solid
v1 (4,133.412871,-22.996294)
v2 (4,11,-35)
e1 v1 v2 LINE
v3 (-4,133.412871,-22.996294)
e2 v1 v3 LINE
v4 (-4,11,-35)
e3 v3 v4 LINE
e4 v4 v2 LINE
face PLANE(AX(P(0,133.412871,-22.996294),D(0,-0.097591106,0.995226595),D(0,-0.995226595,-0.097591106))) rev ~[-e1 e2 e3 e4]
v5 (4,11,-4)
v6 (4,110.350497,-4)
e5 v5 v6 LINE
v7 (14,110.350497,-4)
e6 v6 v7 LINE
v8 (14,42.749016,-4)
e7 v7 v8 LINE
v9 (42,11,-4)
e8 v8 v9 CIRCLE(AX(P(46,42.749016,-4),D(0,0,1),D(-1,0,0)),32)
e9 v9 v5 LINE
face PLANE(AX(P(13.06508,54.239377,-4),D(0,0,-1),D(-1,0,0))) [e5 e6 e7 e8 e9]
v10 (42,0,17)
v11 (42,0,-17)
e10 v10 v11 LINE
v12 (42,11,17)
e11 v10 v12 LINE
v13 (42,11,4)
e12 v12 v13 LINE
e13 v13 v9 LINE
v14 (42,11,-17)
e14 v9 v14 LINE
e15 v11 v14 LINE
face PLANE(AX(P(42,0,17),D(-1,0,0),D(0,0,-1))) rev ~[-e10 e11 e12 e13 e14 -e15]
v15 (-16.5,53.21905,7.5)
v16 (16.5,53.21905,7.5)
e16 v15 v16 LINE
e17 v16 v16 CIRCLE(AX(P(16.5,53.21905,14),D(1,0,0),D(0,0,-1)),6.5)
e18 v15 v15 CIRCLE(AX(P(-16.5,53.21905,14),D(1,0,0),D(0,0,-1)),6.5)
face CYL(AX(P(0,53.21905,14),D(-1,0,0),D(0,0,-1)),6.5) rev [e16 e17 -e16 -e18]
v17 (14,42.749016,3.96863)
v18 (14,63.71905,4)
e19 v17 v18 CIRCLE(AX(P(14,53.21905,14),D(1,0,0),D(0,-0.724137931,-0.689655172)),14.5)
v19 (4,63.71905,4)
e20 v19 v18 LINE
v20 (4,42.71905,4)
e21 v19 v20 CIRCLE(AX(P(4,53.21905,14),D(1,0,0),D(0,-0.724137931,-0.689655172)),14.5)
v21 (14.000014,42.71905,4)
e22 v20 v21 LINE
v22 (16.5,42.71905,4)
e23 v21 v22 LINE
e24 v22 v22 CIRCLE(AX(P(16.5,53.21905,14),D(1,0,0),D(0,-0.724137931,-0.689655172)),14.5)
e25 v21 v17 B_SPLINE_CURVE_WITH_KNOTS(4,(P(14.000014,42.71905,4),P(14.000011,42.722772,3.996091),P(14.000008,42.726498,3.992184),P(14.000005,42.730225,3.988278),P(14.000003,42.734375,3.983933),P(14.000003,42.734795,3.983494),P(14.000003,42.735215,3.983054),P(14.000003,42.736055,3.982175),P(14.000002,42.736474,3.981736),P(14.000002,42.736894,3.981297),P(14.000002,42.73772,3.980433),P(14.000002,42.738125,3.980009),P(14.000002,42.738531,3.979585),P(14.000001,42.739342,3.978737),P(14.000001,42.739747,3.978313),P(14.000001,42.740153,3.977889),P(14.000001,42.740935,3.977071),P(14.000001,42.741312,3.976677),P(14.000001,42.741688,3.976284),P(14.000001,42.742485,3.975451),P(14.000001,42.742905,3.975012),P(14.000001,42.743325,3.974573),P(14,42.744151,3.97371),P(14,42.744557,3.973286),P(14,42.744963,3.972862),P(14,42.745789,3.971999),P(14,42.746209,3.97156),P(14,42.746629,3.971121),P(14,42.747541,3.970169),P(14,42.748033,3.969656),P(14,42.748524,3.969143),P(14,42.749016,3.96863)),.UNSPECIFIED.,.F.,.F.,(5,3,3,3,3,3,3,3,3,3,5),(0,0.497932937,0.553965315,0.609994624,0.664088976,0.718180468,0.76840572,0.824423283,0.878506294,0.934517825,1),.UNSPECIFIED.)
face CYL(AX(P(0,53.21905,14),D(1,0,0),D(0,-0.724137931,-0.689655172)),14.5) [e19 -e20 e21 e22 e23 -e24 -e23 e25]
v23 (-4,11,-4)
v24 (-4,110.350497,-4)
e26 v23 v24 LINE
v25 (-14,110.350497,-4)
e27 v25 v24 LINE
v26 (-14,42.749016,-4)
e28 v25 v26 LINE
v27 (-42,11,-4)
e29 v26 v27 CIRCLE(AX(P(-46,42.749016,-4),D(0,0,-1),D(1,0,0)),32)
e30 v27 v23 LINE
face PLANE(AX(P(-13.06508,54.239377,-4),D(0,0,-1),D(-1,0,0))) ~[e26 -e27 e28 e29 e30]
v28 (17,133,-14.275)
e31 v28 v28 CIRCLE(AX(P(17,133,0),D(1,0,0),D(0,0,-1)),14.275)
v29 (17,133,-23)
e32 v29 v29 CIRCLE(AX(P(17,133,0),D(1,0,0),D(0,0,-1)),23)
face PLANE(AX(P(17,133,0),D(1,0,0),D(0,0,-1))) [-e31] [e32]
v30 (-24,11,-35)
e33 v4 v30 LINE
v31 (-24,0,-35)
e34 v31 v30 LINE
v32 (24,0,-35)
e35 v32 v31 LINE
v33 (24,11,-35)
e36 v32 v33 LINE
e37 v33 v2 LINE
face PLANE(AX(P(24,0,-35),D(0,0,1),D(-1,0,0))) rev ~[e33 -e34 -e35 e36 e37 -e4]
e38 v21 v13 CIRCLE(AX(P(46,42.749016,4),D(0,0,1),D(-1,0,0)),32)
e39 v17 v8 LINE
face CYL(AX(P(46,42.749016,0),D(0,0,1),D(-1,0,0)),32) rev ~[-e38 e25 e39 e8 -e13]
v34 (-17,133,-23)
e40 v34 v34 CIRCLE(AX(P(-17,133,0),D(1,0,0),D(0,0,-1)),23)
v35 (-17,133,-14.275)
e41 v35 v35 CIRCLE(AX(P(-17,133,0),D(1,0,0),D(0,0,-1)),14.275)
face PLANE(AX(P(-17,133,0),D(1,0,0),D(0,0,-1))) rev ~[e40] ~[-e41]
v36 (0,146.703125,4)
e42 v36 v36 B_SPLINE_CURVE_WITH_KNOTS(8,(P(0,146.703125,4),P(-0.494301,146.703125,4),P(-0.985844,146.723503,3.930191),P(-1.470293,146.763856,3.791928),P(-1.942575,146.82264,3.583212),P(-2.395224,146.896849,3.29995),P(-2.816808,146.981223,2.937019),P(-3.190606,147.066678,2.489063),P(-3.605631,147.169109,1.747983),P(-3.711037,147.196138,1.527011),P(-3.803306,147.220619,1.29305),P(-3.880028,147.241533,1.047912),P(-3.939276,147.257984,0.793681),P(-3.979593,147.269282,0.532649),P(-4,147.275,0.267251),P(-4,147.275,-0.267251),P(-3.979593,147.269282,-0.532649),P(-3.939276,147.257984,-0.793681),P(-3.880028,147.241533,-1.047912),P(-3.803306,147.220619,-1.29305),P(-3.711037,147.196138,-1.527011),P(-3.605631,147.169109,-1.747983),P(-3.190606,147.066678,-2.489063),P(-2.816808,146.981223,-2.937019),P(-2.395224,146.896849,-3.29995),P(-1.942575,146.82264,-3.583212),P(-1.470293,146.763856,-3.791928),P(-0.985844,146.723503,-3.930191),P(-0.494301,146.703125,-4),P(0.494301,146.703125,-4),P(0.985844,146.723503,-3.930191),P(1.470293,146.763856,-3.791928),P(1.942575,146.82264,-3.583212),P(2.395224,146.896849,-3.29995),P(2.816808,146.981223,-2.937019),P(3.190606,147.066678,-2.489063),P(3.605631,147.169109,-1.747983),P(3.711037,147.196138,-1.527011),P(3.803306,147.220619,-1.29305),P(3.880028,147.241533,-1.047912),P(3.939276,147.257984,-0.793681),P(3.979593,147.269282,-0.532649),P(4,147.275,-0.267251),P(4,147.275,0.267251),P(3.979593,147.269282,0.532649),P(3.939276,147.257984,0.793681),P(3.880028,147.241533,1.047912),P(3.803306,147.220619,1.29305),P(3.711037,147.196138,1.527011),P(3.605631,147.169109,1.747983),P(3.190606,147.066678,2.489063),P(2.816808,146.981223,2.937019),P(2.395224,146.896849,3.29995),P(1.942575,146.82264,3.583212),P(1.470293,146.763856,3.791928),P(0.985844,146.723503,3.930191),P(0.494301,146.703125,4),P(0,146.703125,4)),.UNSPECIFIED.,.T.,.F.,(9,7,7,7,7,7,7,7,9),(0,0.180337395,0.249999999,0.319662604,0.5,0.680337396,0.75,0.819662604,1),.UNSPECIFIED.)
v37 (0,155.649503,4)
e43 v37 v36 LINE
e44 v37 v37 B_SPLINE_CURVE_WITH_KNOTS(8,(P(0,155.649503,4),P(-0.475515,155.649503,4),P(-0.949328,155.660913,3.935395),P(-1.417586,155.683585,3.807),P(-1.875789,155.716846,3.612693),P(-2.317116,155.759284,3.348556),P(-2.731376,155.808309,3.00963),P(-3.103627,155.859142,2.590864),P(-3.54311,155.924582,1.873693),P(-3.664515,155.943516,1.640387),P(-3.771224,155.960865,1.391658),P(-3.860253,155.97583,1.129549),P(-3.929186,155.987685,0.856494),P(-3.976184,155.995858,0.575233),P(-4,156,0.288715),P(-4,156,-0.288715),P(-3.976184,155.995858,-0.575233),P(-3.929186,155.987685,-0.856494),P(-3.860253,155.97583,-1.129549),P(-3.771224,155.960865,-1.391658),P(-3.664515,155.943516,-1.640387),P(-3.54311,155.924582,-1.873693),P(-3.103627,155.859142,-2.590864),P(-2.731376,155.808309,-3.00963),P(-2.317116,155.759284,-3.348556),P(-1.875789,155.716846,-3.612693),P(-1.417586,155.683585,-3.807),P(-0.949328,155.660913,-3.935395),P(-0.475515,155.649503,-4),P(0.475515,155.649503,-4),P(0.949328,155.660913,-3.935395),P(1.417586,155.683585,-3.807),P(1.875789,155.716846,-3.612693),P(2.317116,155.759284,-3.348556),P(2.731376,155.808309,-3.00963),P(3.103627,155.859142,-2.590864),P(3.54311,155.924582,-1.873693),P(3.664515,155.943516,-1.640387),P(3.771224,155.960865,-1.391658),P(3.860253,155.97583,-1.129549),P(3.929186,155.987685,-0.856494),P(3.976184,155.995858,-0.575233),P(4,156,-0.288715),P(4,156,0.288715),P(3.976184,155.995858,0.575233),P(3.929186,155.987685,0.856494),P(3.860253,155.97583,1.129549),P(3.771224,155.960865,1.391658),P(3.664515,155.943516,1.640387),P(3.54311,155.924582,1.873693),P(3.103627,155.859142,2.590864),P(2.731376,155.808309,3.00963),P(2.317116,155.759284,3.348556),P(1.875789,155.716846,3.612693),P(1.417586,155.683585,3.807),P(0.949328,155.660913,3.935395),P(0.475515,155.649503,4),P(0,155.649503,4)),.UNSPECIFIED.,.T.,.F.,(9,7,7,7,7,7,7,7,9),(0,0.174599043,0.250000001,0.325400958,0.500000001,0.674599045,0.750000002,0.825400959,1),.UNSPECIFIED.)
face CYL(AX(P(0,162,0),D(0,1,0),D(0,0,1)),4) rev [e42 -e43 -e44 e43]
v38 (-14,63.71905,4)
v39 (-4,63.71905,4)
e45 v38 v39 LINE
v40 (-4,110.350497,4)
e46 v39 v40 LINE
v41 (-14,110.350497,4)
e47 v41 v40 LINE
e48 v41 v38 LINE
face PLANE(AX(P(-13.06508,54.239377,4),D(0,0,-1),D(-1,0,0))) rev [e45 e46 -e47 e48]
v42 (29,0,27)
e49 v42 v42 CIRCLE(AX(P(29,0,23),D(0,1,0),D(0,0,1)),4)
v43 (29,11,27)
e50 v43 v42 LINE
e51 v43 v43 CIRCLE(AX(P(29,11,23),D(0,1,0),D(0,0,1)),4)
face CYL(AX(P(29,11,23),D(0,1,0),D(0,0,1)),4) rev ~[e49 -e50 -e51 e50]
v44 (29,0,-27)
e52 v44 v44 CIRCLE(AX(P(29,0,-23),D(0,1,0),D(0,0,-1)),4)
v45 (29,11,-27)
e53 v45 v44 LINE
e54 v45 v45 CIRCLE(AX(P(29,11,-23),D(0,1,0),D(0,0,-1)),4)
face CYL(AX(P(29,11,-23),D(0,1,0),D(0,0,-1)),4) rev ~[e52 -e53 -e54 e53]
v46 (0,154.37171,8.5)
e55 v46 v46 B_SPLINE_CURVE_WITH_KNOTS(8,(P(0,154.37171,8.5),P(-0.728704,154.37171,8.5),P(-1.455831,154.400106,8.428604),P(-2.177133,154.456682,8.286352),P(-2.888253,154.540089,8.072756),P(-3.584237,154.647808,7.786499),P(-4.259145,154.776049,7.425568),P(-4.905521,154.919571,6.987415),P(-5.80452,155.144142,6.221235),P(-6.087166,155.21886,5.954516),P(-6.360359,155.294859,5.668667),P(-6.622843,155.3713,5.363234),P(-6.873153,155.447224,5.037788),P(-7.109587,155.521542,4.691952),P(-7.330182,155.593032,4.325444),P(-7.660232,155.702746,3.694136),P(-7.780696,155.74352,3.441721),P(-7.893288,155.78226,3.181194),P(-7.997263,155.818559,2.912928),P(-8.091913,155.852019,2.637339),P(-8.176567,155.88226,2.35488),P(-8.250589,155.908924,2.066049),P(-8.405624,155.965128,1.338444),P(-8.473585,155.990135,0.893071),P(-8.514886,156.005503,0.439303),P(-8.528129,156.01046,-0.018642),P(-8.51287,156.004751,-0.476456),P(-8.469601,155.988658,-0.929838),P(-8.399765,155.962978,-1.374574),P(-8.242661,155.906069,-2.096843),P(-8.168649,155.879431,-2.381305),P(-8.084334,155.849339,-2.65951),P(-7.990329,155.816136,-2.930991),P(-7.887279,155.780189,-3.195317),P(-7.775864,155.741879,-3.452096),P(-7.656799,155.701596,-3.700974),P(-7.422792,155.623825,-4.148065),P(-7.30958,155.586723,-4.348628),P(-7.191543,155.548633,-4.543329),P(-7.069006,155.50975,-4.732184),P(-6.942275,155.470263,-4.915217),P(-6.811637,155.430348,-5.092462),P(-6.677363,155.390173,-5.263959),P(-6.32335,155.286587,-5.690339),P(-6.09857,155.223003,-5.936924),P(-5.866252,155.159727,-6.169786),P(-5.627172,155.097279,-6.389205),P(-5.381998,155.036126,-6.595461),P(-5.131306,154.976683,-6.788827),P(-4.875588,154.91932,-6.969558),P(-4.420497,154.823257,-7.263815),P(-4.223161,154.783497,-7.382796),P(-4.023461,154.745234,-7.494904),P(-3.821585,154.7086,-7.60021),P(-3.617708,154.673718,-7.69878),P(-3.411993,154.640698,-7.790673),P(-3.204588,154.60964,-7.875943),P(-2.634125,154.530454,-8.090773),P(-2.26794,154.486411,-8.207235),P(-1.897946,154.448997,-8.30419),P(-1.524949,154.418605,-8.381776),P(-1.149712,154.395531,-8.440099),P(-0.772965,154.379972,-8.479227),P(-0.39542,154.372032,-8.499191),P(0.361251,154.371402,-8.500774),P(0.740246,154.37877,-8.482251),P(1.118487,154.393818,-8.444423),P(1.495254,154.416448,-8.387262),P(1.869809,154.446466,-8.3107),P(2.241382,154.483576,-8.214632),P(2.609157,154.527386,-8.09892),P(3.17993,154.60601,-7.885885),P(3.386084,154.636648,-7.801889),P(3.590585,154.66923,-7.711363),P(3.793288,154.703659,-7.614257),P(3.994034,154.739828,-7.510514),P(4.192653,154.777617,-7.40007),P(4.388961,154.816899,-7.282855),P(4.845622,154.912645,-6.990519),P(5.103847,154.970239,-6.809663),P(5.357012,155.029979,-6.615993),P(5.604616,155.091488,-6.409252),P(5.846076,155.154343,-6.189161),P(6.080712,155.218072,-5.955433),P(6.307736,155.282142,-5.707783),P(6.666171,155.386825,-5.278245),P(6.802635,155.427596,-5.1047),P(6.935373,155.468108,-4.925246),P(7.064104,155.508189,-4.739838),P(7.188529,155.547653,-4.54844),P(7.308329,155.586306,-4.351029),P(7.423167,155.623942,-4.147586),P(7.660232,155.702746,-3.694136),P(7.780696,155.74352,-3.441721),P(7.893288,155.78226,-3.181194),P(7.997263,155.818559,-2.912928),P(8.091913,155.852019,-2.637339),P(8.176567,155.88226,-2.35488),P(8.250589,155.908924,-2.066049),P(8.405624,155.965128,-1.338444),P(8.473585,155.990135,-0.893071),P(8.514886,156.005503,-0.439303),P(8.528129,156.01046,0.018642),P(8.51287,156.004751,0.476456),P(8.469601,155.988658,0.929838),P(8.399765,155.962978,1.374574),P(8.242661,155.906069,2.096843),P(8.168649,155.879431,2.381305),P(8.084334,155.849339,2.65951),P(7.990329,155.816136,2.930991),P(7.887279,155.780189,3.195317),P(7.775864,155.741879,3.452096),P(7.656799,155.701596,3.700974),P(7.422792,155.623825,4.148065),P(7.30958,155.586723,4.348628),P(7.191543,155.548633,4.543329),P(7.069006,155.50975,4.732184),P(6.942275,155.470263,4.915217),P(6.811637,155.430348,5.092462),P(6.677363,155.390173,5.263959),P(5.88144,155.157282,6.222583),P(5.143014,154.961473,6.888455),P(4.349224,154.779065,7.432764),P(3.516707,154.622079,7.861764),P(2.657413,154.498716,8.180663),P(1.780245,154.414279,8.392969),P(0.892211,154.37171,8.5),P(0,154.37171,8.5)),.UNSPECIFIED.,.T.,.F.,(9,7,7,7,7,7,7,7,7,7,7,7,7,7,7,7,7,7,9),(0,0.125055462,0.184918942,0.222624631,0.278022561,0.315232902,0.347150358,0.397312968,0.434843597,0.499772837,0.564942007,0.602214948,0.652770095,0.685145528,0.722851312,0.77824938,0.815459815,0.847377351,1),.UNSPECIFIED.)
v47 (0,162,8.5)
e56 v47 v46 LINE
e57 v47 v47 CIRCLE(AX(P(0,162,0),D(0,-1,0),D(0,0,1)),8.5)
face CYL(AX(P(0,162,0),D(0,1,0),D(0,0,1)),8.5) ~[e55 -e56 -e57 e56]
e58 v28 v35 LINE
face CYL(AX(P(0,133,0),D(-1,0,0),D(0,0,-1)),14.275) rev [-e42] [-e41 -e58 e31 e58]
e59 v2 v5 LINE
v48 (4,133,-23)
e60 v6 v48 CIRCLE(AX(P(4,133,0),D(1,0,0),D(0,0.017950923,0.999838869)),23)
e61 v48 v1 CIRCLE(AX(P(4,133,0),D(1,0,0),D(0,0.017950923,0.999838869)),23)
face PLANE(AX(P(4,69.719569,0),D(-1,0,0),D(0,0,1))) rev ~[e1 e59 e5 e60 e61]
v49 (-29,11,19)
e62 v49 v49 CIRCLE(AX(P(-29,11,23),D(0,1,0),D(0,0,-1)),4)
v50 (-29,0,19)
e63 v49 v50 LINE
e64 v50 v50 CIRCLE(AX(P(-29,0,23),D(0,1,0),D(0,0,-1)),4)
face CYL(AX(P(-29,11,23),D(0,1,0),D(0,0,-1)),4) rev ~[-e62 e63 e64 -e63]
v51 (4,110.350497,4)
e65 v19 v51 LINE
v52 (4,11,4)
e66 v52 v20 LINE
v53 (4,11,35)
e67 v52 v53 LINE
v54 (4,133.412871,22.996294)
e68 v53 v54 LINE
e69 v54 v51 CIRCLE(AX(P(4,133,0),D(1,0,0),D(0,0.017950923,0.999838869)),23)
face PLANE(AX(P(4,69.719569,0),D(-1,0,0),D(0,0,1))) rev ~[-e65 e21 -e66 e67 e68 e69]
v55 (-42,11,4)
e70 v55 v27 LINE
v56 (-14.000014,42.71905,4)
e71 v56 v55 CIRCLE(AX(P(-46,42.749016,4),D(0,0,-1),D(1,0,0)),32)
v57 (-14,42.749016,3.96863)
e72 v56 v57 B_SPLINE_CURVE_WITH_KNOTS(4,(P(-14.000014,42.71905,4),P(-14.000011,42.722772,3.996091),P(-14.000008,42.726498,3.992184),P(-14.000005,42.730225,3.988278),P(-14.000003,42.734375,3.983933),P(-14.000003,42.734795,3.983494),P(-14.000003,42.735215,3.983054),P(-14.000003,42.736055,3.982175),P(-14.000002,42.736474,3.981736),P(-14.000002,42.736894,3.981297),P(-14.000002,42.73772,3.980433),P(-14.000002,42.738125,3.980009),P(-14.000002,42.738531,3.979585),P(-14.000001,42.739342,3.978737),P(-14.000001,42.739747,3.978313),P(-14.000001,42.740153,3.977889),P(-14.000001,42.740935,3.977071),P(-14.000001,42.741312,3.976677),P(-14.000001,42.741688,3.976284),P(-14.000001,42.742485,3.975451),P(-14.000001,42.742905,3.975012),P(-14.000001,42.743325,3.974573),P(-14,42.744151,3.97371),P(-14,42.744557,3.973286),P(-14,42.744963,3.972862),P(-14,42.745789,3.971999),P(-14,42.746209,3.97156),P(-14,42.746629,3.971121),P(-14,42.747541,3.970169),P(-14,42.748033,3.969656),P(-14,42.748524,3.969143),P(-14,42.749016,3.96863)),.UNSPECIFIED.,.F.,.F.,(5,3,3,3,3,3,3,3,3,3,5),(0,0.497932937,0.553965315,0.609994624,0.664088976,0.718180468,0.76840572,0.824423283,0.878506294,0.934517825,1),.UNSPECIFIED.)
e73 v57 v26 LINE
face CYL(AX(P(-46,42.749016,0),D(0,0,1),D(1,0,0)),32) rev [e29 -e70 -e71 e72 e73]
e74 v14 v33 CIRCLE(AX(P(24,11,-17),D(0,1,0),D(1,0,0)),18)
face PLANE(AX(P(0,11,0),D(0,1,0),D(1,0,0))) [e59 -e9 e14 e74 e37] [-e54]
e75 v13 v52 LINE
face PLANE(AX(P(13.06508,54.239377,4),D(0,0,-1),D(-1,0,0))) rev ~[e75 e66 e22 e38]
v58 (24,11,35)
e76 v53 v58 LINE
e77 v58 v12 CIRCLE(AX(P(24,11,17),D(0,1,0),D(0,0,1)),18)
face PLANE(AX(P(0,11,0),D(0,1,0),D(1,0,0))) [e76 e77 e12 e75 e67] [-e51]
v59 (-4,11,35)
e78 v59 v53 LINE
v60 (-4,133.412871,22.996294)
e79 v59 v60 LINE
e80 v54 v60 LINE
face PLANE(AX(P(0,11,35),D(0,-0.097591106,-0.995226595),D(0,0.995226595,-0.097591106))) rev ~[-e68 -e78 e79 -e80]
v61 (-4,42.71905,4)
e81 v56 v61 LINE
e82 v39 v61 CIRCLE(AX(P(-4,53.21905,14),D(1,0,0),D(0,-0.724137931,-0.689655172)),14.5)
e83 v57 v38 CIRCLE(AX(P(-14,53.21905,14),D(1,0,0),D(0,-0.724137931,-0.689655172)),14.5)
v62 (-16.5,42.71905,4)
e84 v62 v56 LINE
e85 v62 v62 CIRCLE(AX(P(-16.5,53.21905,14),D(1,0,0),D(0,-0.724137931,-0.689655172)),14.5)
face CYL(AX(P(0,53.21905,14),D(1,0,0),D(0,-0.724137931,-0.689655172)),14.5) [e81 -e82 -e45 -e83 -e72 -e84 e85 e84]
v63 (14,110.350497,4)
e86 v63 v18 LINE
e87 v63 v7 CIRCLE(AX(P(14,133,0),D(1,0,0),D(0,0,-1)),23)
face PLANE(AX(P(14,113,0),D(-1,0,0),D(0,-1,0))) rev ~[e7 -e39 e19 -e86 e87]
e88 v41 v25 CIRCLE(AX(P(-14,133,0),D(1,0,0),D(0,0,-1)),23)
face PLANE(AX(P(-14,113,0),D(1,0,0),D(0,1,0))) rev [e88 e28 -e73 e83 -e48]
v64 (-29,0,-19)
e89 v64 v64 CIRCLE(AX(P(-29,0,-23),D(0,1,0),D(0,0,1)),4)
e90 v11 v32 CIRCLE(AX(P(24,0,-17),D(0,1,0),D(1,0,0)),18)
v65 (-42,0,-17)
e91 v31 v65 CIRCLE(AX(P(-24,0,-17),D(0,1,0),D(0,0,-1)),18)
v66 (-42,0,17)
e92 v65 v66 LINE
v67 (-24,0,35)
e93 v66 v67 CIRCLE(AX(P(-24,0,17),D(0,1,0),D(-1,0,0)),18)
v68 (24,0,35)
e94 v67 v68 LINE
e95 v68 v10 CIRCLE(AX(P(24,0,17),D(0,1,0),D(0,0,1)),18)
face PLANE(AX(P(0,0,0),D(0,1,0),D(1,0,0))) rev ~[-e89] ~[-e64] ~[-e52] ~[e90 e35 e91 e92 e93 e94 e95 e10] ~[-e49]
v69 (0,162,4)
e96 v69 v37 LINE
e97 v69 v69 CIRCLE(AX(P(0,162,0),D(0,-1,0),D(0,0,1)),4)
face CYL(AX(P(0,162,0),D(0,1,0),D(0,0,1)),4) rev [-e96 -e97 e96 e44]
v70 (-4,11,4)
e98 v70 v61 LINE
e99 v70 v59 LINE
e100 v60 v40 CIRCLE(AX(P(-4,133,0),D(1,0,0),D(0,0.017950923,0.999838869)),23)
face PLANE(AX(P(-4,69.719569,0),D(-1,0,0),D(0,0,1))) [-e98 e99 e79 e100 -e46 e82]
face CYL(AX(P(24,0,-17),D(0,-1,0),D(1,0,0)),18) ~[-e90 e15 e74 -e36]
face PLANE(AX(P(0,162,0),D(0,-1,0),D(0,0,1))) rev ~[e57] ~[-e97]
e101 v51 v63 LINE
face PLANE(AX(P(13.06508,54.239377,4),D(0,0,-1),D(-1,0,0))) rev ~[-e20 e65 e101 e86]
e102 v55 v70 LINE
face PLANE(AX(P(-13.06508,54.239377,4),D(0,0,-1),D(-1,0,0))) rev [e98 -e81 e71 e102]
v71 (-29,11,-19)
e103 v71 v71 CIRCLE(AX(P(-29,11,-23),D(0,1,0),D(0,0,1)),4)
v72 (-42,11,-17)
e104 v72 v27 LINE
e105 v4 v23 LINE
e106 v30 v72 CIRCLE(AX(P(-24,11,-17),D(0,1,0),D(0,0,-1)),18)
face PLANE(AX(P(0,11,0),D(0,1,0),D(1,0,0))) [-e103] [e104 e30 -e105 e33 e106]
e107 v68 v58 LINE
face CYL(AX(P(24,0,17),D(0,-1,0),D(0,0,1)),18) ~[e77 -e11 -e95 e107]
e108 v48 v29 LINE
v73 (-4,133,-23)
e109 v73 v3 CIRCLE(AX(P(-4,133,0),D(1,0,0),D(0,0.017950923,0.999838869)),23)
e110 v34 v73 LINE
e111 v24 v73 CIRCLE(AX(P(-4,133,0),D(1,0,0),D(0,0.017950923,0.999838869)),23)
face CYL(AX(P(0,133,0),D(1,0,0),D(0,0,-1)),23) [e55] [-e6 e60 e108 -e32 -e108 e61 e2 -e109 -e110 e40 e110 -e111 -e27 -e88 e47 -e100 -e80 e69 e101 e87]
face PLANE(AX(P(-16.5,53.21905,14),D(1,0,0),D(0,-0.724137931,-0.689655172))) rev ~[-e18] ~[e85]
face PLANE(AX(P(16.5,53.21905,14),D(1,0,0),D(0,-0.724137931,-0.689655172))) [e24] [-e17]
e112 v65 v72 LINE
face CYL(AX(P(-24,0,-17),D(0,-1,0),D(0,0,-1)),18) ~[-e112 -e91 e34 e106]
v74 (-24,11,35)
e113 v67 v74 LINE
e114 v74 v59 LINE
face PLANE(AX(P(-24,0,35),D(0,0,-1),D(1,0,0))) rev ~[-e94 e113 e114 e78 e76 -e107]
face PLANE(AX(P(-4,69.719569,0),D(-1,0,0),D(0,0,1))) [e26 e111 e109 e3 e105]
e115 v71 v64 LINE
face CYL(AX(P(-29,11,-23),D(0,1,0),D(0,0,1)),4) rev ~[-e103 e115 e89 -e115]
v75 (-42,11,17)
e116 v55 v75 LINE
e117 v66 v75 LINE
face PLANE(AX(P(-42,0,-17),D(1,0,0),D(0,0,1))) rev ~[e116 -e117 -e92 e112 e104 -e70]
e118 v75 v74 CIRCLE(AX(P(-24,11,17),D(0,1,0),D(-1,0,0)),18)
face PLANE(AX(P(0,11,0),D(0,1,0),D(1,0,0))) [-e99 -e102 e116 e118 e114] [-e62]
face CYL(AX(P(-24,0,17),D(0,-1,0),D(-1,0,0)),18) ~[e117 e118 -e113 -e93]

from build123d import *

# Parameters (mm, degrees)
BOSS_EXTRUDE1_DEPTH     = 11
SKETCH2_R               = 23
SKETCH2_R_2             = 14.275
BOSS_EXTRUDE2_DEPTH     = 17
BOSS_EXTRUDE3_DEPTH     = 4
SKETCH6_R               = 4
CUT_EXTRUDE1_DEPTH      = 155.964512066
BOSS_EXTRUDE4_REACH     = 172.977
SKETCH9_R               = 8.5
SKETCH9_R_2             = 4
CUT_EXTRUDE2_REACH      = 172.977
CUT_EXTRUDE2_END_RADIUS = 14.275
SKETCH9_3_R             = 4
BOSS_EXTRUDE5_DEPTH     = 4
SKETCH12_R              = 14.5
SKETCH12_R_2            = 6.5
BOSS_EXTRUDE6_DEPTH     = 16.5
CUT_EXTRUDE3_DEPTH      = 171.976606706
CUT_EXTRUDE3_DEPTH_BACK = 171.976606706
SKETCH12_2_R            = 6.5


with BuildPart() as part:
    # Sketch1 → Boss-Extrude1 (new body)
    with BuildSketch(Plane(origin=(0, 0, 0), x_dir=(1, 0, 0), z_dir=(0, 1, 0))):
        with BuildLine():
            Line((-24, -35), (24, -35))
            ThreePointArc((24, -35), (36.727922061, -29.727922061), (42, -17))
            Line((42, -17), (42, 17))
            ThreePointArc((42, 17), (36.727922061, 29.727922061), (24, 35))
            Line((24, 35), (-24, 35))
            ThreePointArc((-24, 35), (-36.727922061, 29.727922061), (-42, 17))
            Line((-42, 17), (-42, -17))
            ThreePointArc((-42, -17), (-36.727922061, -29.727922061), (-24, -35))
        make_face()
    extrude(amount=BOSS_EXTRUDE1_DEPTH)



with BuildPart() as body_2:
    # Sketch2 → Boss-Extrude2 (new, symmetric)
    with BuildSketch(Plane(origin=(0, 0, 0), x_dir=(0, 0, -1), z_dir=(1, 0, 0))):
        with Locations((0, 133)):
            Circle(SKETCH2_R)
        with Locations((0, 133)):
            Circle(SKETCH2_R_2, mode=Mode.SUBTRACT)
    extrude(amount=BOSS_EXTRUDE2_DEPTH, both=True)


with BuildPart() as part_1:
    add(part.part)

    add(body_2.part)  # Boss-Extrude3 merges body 2
    # Sketch3 → Boss-Extrude3 (add, symmetric)
    with BuildSketch(Plane(origin=(0, 0, 0), x_dir=(0, 0, -1), z_dir=(1, 0, 0))):
        with BuildLine():
            Line((-35, 11), (-22.996293992, 133.412871227))
            ThreePointArc((-22.996293992, 133.412871227), (0, 110), (22.996293992, 133.412871227))
            Line((22.996293992, 133.412871227), (35, 11))
            Line((35, 11), (-35, 11))
        make_face()
    extrude(amount=BOSS_EXTRUDE3_DEPTH, both=True)

    # Sketch6 → Cut-Extrude1 (cut, through all)
    with BuildSketch(Plane(origin=(0, 11, 0), x_dir=(1, 0, 0), z_dir=(0, 1, 0))):
        with Locations((29, -23)):
            Circle(SKETCH6_R)
        with Locations((29, 23)):
            Circle(SKETCH6_R)
        with Locations((-29, -23)):
            Circle(SKETCH6_R)
        with Locations((-29, 23)):
            Circle(SKETCH6_R)
    extrude(amount=-CUT_EXTRUDE1_DEPTH, mode=Mode.SUBTRACT)

    # Sketch9 → Boss-Extrude4 (add, up to next)
    with BuildSketch(Plane(origin=(0, 162, 0), x_dir=(-1, 0, 0), z_dir=(0, -1, 0)), mode=Mode.PRIVATE) as boss_extrude4_sk1:
        Circle(SKETCH9_R)
        Circle(SKETCH9_R_2, mode=Mode.SUBTRACT)
    boss_extrude4_tool1 = extrude(boss_extrude4_sk1.sketch, amount=BOSS_EXTRUDE4_REACH, mode=Mode.PRIVATE) - part_1.part
    add(boss_extrude4_tool1.solids().sort_by_distance((8.259584, 162, 0))[0])

    # Cut-Extrude2: up to this cylinder (the profile starts outside it)
    cut_extrude2_end = Plane(origin=(0, 133, 0), z_dir=(-1, 0, 0)) * Cylinder(CUT_EXTRUDE2_END_RADIUS, 375.504, mode=Mode.PRIVATE)
    # Sketch9<3> → Cut-Extrude2 (cut, up to the surface)
    with BuildSketch(Plane(origin=(0, 162, 0), x_dir=(-1, 0, 0), z_dir=(0, -1, 0)), mode=Mode.PRIVATE) as cut_extrude2_sk1:
        Circle(SKETCH9_3_R)
    cut_extrude2_tool1 = extrude(cut_extrude2_sk1.sketch, amount=CUT_EXTRUDE2_REACH, mode=Mode.PRIVATE) - cut_extrude2_end
    add(cut_extrude2_tool1.solids().sort_by_distance((0, 162, 0))[0], mode=Mode.SUBTRACT)

    # Sketch10 → Boss-Extrude5 (add, symmetric)
    with BuildSketch(Plane.XY):
        with BuildLine():
            Line((14, 113), (14, 42.749015733))
            ThreePointArc((14, 42.749015733), (22, 21.583005244), (42, 11))
            Line((42, 11), (4, 11))
            Line((4, 11), (4, 113))
            Line((4, 113), (14, 113))
        make_face()
    boss_extrude5 = extrude(amount=BOSS_EXTRUDE5_DEPTH, both=True)

    # Mirror1: Boss-Extrude5 across plane
    add(boss_extrude5.mirror(Plane(origin=(0, 0, 0), x_dir=(0, 0, 1), z_dir=(1, 0, 0))))

    # Sketch12 → Boss-Extrude6 (add, symmetric)
    with BuildSketch(Plane(origin=(0, 0, 0), x_dir=(0, 0, -1), z_dir=(1, 0, 0))):
        with Locations((-14, 53.219049893)):
            Circle(SKETCH12_R)
        with Locations((-14, 53.219049893)):
            Circle(SKETCH12_R_2, mode=Mode.SUBTRACT)
    extrude(amount=BOSS_EXTRUDE6_DEPTH, both=True)

    # Sketch12<2> → Cut-Extrude3 (cut, two sides: drawn at the far end of the back side and taken through both)
    with BuildSketch(Plane(origin=(0, 0, 0), x_dir=(0, 0, -1), z_dir=(1, 0, 0)).offset(-CUT_EXTRUDE3_DEPTH_BACK)):
        with Locations((-14, 53.219049893)):
            Circle(SKETCH12_2_R)
    extrude(amount=CUT_EXTRUDE3_DEPTH + CUT_EXTRUDE3_DEPTH_BACK, mode=Mode.SUBTRACT)


solid = part_1.part
